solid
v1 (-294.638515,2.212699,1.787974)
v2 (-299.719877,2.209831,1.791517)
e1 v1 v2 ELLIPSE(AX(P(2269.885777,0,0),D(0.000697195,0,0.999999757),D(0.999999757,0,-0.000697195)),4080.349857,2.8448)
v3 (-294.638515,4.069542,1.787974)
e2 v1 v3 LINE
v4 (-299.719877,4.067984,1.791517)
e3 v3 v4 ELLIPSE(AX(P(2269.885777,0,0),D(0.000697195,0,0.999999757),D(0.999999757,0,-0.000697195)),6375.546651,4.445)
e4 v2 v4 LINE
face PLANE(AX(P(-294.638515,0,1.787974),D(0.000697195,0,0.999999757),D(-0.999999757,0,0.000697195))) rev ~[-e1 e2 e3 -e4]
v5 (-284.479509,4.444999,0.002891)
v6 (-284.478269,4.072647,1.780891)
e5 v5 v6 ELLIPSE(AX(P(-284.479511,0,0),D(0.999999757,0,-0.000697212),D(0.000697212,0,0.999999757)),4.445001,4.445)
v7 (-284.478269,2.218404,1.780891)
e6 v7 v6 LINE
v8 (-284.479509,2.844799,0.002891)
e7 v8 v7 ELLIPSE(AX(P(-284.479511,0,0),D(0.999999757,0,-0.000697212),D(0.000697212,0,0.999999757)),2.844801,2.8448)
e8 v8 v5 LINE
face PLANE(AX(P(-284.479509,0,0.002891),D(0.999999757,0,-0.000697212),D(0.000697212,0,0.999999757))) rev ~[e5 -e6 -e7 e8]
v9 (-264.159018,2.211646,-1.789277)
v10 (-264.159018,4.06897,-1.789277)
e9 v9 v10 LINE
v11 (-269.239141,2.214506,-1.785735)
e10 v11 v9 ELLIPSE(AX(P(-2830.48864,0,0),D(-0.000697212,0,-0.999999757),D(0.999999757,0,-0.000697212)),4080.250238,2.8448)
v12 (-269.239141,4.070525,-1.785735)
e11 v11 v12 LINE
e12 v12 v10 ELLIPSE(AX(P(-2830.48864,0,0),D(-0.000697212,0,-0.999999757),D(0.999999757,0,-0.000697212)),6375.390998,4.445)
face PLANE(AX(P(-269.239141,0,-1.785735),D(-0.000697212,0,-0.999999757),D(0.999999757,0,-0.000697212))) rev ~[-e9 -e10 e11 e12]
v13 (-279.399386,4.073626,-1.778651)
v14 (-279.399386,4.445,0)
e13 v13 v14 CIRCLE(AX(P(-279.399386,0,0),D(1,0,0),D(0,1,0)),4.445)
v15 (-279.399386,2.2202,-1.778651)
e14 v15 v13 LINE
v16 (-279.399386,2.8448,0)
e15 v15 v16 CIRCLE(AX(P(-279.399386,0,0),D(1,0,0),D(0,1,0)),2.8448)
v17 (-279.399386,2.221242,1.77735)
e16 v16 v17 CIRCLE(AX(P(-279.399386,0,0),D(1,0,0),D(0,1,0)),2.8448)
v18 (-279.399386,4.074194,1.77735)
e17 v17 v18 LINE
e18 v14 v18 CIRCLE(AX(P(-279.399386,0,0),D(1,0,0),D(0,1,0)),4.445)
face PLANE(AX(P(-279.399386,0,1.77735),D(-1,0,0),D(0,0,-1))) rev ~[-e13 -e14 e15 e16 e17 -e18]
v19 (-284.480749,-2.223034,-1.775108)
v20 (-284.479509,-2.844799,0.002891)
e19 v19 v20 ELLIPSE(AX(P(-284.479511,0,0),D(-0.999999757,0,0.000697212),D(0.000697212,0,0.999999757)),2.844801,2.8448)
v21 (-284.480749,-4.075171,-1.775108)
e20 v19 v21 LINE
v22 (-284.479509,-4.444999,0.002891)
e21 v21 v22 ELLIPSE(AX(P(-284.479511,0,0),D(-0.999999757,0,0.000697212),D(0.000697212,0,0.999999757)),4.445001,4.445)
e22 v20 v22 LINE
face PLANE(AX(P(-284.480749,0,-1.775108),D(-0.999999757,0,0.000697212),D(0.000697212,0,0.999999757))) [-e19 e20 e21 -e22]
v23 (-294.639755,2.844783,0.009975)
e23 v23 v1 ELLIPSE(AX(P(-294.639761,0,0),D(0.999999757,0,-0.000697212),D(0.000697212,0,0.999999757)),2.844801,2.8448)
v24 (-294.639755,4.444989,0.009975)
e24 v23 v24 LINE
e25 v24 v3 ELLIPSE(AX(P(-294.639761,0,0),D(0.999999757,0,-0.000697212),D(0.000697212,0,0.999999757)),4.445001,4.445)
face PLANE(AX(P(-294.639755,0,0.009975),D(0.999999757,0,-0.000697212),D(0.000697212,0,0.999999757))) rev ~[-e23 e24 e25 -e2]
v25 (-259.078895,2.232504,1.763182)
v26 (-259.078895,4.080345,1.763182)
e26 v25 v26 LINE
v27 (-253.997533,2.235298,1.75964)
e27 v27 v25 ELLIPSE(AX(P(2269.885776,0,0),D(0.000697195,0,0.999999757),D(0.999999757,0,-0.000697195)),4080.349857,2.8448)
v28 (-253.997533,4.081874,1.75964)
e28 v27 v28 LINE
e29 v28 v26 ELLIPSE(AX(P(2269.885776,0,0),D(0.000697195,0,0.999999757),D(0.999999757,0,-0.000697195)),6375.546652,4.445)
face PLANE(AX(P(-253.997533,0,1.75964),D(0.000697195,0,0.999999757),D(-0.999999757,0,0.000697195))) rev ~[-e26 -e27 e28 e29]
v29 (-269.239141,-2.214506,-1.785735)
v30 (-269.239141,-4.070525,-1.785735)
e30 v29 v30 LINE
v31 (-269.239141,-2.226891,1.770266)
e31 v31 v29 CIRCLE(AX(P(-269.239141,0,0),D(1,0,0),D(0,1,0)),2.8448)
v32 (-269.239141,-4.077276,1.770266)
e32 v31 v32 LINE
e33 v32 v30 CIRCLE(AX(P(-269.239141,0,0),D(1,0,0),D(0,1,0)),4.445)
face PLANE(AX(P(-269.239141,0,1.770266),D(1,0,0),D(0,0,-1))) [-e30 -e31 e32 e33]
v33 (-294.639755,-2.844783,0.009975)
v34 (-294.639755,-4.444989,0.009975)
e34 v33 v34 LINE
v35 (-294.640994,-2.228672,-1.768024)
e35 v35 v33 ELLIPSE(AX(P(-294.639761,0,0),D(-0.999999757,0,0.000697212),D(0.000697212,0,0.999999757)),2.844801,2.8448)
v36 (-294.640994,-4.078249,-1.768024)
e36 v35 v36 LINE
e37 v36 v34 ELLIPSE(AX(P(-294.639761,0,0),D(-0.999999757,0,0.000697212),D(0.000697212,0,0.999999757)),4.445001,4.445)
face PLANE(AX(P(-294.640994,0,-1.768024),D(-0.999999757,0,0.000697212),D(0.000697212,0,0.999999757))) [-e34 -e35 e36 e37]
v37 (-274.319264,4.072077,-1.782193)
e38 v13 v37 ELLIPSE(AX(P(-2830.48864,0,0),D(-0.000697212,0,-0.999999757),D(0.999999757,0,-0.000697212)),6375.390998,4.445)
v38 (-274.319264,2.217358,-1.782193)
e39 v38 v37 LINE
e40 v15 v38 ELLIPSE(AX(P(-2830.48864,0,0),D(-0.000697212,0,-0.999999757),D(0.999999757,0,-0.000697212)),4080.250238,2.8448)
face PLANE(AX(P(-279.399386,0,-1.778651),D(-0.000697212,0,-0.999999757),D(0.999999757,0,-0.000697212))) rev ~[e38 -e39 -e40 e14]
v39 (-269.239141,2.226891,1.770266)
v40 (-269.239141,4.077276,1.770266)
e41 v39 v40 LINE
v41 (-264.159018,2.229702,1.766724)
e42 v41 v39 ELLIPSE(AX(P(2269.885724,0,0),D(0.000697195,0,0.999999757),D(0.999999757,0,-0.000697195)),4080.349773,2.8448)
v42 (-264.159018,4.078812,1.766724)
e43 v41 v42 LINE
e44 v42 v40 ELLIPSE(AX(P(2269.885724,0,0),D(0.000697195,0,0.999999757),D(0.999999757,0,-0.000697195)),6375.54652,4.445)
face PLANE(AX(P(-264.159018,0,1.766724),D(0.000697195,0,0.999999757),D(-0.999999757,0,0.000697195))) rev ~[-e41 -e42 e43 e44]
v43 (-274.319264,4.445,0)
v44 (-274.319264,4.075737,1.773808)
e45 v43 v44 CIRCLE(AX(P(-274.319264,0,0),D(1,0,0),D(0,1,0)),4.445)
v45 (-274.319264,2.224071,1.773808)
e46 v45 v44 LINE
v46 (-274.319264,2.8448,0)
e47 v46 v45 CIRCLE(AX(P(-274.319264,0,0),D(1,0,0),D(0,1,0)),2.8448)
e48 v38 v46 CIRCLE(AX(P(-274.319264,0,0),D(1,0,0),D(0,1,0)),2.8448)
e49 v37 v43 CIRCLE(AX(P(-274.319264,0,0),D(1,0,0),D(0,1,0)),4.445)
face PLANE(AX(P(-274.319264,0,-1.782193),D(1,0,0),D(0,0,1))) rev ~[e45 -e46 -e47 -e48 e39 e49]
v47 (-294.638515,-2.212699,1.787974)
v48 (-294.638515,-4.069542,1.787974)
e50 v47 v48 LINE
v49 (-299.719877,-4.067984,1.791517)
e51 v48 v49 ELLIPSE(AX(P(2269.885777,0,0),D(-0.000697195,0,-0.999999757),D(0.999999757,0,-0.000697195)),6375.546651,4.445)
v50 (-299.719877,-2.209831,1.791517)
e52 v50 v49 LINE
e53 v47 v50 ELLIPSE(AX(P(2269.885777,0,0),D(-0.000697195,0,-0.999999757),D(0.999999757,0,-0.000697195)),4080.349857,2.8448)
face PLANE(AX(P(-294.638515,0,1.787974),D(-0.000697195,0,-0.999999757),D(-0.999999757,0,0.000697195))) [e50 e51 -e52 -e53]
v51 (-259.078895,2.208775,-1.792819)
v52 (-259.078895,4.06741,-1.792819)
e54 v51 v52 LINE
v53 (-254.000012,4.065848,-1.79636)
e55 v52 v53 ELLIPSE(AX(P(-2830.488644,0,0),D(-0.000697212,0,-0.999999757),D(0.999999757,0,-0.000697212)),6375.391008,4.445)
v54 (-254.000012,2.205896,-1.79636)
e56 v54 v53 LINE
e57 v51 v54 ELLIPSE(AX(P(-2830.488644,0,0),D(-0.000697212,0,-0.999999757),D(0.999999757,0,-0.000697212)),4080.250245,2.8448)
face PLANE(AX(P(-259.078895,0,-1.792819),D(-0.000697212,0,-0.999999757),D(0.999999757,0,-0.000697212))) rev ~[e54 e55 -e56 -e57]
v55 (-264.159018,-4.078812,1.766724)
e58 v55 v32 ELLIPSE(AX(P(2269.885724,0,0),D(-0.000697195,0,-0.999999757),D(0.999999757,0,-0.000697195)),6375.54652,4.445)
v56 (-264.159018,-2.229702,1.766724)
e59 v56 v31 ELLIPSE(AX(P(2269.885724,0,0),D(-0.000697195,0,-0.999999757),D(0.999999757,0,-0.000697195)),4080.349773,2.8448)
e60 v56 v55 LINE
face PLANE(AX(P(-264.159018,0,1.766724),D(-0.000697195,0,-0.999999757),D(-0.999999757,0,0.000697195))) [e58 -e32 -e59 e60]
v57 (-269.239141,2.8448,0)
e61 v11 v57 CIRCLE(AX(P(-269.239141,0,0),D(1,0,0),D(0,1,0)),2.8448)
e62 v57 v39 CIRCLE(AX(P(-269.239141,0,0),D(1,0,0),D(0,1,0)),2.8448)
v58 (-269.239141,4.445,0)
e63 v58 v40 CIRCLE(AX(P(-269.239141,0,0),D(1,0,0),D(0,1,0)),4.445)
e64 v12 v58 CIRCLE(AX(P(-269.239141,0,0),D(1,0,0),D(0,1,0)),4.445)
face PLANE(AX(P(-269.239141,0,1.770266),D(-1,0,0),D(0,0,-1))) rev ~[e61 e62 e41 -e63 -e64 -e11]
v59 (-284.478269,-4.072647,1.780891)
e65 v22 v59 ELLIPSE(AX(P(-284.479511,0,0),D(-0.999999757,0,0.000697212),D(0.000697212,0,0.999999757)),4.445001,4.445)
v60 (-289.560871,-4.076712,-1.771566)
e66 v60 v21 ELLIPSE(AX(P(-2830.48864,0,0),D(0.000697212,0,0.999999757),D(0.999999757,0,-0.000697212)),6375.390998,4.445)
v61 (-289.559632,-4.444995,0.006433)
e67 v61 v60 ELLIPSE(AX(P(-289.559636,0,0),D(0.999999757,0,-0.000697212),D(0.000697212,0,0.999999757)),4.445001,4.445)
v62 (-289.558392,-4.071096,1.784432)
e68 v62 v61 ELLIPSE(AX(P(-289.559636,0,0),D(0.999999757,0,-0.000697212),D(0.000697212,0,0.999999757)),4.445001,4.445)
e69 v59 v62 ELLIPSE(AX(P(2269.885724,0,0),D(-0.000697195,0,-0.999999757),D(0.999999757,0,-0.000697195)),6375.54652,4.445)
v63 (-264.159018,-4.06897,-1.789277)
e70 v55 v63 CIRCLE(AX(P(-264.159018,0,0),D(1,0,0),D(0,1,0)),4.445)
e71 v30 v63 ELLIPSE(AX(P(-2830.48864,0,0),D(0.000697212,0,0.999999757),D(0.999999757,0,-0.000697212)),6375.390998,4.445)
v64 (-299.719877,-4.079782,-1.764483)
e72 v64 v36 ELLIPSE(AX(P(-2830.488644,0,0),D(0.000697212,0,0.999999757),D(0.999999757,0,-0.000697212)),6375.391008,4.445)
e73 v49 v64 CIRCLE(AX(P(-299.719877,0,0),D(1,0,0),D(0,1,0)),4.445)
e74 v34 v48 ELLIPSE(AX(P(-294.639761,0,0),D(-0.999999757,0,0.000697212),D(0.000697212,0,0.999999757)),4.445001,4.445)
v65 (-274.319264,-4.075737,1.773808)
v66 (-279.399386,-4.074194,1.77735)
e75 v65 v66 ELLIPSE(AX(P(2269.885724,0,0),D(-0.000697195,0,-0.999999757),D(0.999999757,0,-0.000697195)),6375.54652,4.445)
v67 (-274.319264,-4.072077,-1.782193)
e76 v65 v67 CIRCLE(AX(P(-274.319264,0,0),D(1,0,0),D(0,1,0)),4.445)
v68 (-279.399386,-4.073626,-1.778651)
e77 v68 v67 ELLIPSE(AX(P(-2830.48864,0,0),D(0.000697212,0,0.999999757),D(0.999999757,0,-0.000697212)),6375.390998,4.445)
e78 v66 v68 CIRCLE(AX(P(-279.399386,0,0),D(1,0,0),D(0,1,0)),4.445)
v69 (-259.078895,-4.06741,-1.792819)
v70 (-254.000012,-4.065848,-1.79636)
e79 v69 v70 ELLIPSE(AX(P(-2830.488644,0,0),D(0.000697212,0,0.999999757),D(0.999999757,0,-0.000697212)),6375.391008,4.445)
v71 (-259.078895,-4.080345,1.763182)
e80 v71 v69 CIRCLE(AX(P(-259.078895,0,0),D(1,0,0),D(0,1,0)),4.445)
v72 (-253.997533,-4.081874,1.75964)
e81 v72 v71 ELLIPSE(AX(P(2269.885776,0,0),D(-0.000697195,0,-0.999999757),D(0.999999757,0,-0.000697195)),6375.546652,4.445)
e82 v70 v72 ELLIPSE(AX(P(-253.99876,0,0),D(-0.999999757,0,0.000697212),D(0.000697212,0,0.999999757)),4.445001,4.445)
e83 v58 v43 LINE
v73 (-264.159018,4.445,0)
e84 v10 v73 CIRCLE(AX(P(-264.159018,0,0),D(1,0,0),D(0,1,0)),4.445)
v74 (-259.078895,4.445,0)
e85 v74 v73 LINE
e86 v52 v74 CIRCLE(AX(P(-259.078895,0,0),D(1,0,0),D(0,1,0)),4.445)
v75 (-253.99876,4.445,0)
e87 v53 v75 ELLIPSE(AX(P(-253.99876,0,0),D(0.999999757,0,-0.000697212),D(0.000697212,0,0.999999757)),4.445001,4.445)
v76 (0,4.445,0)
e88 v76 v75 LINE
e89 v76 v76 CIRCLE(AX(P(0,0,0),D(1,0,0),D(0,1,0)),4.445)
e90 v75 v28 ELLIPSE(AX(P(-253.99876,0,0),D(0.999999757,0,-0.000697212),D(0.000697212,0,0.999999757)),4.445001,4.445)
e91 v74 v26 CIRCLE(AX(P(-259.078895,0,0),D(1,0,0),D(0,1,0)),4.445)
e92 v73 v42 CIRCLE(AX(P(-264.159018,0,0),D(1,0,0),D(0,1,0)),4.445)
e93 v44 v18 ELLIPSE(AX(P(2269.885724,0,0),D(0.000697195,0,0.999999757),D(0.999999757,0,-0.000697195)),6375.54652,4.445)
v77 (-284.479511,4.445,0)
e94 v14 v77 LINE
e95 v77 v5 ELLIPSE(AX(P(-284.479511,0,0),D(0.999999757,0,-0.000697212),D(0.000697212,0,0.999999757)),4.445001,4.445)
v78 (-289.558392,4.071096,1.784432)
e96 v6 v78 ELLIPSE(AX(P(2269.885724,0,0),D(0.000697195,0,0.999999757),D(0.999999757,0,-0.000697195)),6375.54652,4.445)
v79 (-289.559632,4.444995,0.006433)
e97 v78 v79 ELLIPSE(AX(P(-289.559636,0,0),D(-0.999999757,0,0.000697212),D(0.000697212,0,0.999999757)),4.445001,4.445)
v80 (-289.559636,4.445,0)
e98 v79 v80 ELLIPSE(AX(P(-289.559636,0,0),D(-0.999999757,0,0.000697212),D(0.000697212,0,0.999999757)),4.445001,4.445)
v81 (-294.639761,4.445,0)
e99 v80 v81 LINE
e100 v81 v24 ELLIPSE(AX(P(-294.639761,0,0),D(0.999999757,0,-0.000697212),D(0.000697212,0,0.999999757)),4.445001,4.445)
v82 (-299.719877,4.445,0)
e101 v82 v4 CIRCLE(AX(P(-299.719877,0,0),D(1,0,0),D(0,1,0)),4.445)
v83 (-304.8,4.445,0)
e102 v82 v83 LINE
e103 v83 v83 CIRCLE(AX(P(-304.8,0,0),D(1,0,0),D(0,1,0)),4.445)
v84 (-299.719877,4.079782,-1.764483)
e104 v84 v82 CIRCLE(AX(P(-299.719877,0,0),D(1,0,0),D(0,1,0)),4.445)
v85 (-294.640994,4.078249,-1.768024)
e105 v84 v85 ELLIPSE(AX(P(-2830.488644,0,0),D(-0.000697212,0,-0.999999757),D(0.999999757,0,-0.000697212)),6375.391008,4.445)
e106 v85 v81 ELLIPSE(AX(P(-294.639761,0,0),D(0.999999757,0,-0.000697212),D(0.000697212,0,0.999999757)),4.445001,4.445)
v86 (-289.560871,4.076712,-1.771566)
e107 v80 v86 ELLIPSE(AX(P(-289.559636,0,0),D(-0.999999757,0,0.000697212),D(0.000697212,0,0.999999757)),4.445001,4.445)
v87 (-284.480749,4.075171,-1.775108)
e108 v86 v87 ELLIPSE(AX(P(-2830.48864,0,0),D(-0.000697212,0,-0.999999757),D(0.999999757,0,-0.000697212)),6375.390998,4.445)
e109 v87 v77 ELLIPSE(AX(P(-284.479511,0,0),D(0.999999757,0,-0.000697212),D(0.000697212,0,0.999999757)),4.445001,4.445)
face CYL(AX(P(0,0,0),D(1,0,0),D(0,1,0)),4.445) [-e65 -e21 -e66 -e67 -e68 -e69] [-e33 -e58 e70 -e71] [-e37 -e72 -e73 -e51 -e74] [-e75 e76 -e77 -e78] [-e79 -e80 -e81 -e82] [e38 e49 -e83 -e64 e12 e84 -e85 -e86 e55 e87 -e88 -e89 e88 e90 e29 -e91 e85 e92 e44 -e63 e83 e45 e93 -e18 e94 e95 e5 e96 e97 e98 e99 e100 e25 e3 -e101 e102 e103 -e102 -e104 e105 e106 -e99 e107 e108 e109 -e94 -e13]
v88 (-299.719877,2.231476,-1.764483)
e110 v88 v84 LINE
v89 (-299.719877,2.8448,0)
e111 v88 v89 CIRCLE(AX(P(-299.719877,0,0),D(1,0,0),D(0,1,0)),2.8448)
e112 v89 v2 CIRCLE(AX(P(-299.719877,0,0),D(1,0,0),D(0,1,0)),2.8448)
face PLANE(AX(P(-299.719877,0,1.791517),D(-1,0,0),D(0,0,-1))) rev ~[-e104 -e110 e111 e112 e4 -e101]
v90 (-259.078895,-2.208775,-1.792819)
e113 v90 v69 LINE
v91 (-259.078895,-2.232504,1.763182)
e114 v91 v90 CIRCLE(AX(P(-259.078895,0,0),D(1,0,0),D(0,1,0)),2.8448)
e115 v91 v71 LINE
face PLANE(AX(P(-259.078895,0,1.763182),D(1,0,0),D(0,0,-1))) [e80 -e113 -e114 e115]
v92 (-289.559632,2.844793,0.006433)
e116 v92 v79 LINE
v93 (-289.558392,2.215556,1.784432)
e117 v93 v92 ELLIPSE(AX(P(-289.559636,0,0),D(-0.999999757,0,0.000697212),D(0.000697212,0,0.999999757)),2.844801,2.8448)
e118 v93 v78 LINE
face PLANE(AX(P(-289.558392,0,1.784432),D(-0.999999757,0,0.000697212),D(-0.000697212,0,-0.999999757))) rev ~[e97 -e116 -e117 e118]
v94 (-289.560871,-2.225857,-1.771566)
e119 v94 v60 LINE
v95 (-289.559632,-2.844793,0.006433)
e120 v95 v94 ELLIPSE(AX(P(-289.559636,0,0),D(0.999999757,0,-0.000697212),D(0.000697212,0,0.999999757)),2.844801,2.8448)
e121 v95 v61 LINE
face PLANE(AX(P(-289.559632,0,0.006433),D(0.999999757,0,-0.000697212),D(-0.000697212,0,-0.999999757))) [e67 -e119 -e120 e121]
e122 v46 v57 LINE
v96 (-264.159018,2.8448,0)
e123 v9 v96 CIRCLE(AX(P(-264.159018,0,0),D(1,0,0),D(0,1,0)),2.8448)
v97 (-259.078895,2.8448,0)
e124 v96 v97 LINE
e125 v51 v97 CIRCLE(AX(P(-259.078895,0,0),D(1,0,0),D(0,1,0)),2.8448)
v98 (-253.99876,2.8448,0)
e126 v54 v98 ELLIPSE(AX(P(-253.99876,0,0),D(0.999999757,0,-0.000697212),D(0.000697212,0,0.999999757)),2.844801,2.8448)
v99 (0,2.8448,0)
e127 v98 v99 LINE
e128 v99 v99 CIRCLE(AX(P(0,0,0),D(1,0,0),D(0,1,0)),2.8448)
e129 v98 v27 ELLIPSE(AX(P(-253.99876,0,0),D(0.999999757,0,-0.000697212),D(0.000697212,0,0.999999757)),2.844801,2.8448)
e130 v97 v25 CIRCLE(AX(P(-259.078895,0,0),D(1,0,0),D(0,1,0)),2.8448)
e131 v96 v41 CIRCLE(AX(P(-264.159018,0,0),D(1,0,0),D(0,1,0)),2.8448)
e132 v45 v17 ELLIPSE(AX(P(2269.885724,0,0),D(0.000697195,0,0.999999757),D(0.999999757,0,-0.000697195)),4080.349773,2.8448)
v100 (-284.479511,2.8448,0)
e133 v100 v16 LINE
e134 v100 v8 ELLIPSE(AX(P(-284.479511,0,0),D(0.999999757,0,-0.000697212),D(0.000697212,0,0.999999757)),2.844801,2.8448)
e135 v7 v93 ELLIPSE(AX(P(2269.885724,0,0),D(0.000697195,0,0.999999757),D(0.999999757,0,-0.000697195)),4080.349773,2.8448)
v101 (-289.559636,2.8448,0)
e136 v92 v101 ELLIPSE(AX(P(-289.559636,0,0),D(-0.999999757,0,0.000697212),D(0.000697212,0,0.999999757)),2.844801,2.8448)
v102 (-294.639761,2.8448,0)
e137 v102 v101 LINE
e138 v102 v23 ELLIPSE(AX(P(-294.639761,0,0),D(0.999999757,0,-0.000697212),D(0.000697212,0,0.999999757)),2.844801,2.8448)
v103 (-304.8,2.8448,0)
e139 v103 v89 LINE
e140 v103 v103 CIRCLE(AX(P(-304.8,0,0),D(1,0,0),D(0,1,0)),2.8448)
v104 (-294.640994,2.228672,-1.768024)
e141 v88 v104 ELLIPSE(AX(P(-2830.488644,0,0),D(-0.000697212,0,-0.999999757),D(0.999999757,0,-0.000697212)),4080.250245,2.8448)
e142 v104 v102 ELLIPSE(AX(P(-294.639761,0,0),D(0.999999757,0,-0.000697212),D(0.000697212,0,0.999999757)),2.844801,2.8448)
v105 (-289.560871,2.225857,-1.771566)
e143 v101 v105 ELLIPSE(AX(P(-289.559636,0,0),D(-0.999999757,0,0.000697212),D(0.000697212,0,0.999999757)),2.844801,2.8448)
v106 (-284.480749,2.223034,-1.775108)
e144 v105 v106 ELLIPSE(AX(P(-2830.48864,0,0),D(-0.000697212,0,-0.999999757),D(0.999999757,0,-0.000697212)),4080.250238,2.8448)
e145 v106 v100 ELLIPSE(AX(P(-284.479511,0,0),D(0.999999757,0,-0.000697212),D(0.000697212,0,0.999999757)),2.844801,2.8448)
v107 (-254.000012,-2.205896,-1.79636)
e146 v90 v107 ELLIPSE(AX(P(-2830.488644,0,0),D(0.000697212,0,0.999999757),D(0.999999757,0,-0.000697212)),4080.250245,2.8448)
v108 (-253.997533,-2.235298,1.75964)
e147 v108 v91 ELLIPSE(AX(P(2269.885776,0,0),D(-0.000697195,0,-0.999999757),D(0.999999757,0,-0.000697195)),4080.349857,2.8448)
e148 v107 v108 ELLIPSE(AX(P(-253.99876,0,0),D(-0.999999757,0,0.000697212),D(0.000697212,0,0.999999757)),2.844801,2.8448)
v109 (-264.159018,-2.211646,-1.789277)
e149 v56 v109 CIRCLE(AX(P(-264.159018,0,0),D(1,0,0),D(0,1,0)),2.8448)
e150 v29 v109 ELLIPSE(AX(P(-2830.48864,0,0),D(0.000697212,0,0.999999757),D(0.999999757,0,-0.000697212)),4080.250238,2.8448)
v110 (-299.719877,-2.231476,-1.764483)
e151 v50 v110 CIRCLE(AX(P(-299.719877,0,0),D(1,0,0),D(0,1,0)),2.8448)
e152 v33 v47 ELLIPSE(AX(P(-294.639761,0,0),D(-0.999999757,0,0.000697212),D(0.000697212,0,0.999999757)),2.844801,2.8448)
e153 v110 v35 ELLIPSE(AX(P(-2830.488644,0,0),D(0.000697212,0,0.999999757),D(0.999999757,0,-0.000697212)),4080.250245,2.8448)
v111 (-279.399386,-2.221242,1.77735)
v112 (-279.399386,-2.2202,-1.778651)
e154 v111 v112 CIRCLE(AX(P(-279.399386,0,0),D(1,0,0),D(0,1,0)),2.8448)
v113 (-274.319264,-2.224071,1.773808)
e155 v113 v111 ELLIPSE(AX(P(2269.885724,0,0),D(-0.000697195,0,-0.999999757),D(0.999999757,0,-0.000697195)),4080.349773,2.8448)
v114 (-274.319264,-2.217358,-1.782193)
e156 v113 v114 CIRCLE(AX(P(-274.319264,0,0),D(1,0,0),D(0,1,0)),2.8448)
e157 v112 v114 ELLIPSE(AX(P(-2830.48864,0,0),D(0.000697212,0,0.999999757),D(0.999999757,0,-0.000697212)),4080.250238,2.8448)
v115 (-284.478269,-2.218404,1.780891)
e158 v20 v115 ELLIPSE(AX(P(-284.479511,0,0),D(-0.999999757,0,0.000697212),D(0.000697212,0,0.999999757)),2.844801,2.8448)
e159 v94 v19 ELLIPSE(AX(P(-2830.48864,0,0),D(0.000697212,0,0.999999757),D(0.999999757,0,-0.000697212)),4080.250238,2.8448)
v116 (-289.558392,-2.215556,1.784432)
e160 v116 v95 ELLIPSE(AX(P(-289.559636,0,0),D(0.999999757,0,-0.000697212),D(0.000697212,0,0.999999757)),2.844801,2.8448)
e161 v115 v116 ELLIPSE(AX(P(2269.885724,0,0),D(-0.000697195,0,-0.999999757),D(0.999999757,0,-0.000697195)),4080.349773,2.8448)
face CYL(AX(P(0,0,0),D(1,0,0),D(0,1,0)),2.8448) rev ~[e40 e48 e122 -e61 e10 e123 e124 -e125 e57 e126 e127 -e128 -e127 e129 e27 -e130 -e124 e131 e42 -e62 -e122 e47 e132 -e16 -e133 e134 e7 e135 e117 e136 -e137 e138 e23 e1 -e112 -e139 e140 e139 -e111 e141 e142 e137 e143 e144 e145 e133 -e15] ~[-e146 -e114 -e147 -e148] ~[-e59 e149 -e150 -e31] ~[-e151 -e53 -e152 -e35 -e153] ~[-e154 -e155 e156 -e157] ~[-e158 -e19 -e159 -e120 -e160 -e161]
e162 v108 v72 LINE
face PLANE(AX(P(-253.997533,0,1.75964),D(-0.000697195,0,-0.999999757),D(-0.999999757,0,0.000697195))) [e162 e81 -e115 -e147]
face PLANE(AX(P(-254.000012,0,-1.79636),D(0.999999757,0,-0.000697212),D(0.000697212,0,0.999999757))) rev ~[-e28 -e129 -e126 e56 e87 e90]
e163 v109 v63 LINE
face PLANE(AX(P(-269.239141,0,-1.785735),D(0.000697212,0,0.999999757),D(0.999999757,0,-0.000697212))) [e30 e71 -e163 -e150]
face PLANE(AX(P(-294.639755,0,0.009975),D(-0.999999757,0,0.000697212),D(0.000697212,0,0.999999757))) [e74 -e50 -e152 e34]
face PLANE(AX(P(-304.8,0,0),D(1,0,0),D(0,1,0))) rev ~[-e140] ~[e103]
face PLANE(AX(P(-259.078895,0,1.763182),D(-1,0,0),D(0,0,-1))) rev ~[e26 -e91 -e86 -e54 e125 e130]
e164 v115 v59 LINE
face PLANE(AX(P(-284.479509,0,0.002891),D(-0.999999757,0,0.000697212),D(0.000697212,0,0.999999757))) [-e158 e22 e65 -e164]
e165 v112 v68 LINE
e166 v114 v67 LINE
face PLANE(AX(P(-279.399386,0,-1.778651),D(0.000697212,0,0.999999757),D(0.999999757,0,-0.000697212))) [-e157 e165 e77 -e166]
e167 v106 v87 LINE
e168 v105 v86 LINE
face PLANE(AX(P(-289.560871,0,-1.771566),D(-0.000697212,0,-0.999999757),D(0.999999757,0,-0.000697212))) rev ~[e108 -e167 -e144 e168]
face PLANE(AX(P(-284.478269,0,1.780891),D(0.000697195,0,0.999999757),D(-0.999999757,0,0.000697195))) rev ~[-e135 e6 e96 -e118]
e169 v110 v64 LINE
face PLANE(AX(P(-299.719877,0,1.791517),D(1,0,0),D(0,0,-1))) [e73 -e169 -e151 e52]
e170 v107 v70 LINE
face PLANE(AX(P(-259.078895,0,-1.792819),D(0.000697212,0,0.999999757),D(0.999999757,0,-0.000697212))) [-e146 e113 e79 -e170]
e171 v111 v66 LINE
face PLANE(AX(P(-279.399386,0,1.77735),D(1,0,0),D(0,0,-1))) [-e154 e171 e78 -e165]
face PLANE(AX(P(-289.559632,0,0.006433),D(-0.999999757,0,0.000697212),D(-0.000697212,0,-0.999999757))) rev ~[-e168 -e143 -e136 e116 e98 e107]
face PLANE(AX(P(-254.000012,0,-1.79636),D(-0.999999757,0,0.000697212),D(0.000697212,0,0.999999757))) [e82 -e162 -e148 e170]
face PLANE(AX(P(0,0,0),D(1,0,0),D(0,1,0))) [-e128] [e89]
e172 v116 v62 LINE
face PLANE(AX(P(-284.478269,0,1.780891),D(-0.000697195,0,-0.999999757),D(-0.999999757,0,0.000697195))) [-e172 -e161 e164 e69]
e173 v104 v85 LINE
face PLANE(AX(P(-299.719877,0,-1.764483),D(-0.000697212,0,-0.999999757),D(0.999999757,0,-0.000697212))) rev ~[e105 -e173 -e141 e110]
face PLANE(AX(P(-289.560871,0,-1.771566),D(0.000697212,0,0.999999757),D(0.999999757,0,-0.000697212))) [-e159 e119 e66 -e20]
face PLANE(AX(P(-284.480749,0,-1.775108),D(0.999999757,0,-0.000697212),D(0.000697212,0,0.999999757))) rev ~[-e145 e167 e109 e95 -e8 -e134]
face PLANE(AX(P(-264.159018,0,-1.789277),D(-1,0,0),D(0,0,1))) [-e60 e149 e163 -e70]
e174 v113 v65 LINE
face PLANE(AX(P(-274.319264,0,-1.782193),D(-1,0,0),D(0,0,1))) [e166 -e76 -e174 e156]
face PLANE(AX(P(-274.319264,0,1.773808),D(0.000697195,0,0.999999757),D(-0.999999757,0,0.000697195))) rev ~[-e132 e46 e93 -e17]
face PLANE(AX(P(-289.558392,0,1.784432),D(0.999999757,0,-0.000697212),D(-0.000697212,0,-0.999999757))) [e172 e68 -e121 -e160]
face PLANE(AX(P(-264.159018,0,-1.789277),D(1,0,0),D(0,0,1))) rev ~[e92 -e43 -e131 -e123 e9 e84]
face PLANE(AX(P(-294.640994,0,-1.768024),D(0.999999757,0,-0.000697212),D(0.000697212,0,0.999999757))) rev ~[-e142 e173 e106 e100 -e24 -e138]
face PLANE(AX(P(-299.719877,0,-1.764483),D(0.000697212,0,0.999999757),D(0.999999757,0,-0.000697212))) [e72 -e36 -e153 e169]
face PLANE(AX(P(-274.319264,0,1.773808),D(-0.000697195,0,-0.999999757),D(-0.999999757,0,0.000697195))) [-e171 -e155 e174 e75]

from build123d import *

# Parameters (mm, degrees)
F0_R          = 4.445
F0_R_2        = 2.8448
F1_DEPTH      = 12.7
F2_DEPTH      = 304.8
F4_DEPTH      = 25.4
F4_DEPTH_BACK = 25.4


with BuildPart() as f1:
    # F0 (on Right) → F1 (new body)
    with BuildSketch(Plane.YZ):
        Circle(F0_R)
        Circle(F0_R_2, mode=Mode.SUBTRACT)
    extrude(amount=-F1_DEPTH)

    # F0 (on Right) → F2 (join)
    with BuildSketch(Plane.YZ):
        Circle(F0_R)
        Circle(F0_R_2, mode=Mode.SUBTRACT)
    extrude(amount=-F2_DEPTH)

    # F3 (on Front) → F4 (cut, two sides)
    with BuildSketch(Plane.XZ) as f4_sk:
        Polygon((-253.9987727039, -0.0183600185), (-259.0788954335, -0.0148181376), (-259.0788954335, -1.7928185265), (-254.0000123471, -1.7963595863), align=None)
        Polygon((-259.0788954335, 1.7631822513), (-259.0788954335, -0.0148181376), (-253.9987727039, -0.0183600185), (-253.9975330607, 1.7596395494), align=None)
        Polygon((-269.2391408927, 1.7702659267), (-269.2391408927, -0.0077343758), (-264.1590181631, -0.0112762567), (-264.1590181631, 1.766724089), align=None)
        Polygon((-264.1590181631, -0.0112762567), (-269.2391408927, -0.0077343758), (-269.2391408927, -1.7857346783), (-264.1590181631, -1.7892766024), align=None)
        Polygon((-279.3993863519, 1.7773496021), (-279.3993863519, -0.000650614), (-274.3192636223, -0.0041924949), (-274.3192636223, 1.7738077644), align=None)
        Polygon((-274.3192636223, -0.0041924949), (-279.3993863519, -0.000650614), (-279.3993863519, -1.7786508301), (-274.3192636223, -1.7821927542), align=None)
        Polygon((-284.4795090815, 0.0028912669), (-289.5596318112, 0.0064331478), (-289.5608714541, -1.7715661175), (-284.4807487246, -1.7751080416), align=None)
        Polygon((-289.5583921682, 1.7844324132), (-289.5596318112, 0.0064331478), (-284.4795090815, 0.0028912669), (-284.4782694385, 1.7808905755), align=None)
        Polygon((-294.6397545408, 0.0099750287), (-299.7198772704, 0.0135169096), (-299.7198772704, -1.7644831336), (-294.6409941837, -1.7680241934), align=None)
        Polygon((-299.7198772704, 1.7915169528), (-299.7198772704, 0.0135169096), (-294.6397545408, 0.0099750287), (-294.6385148978, 1.7879742509), align=None)
    extrude(amount=-F4_DEPTH, mode=Mode.SUBTRACT)
    extrude(f4_sk.sketch, amount=F4_DEPTH_BACK, mode=Mode.SUBTRACT)


solid = f1.part
